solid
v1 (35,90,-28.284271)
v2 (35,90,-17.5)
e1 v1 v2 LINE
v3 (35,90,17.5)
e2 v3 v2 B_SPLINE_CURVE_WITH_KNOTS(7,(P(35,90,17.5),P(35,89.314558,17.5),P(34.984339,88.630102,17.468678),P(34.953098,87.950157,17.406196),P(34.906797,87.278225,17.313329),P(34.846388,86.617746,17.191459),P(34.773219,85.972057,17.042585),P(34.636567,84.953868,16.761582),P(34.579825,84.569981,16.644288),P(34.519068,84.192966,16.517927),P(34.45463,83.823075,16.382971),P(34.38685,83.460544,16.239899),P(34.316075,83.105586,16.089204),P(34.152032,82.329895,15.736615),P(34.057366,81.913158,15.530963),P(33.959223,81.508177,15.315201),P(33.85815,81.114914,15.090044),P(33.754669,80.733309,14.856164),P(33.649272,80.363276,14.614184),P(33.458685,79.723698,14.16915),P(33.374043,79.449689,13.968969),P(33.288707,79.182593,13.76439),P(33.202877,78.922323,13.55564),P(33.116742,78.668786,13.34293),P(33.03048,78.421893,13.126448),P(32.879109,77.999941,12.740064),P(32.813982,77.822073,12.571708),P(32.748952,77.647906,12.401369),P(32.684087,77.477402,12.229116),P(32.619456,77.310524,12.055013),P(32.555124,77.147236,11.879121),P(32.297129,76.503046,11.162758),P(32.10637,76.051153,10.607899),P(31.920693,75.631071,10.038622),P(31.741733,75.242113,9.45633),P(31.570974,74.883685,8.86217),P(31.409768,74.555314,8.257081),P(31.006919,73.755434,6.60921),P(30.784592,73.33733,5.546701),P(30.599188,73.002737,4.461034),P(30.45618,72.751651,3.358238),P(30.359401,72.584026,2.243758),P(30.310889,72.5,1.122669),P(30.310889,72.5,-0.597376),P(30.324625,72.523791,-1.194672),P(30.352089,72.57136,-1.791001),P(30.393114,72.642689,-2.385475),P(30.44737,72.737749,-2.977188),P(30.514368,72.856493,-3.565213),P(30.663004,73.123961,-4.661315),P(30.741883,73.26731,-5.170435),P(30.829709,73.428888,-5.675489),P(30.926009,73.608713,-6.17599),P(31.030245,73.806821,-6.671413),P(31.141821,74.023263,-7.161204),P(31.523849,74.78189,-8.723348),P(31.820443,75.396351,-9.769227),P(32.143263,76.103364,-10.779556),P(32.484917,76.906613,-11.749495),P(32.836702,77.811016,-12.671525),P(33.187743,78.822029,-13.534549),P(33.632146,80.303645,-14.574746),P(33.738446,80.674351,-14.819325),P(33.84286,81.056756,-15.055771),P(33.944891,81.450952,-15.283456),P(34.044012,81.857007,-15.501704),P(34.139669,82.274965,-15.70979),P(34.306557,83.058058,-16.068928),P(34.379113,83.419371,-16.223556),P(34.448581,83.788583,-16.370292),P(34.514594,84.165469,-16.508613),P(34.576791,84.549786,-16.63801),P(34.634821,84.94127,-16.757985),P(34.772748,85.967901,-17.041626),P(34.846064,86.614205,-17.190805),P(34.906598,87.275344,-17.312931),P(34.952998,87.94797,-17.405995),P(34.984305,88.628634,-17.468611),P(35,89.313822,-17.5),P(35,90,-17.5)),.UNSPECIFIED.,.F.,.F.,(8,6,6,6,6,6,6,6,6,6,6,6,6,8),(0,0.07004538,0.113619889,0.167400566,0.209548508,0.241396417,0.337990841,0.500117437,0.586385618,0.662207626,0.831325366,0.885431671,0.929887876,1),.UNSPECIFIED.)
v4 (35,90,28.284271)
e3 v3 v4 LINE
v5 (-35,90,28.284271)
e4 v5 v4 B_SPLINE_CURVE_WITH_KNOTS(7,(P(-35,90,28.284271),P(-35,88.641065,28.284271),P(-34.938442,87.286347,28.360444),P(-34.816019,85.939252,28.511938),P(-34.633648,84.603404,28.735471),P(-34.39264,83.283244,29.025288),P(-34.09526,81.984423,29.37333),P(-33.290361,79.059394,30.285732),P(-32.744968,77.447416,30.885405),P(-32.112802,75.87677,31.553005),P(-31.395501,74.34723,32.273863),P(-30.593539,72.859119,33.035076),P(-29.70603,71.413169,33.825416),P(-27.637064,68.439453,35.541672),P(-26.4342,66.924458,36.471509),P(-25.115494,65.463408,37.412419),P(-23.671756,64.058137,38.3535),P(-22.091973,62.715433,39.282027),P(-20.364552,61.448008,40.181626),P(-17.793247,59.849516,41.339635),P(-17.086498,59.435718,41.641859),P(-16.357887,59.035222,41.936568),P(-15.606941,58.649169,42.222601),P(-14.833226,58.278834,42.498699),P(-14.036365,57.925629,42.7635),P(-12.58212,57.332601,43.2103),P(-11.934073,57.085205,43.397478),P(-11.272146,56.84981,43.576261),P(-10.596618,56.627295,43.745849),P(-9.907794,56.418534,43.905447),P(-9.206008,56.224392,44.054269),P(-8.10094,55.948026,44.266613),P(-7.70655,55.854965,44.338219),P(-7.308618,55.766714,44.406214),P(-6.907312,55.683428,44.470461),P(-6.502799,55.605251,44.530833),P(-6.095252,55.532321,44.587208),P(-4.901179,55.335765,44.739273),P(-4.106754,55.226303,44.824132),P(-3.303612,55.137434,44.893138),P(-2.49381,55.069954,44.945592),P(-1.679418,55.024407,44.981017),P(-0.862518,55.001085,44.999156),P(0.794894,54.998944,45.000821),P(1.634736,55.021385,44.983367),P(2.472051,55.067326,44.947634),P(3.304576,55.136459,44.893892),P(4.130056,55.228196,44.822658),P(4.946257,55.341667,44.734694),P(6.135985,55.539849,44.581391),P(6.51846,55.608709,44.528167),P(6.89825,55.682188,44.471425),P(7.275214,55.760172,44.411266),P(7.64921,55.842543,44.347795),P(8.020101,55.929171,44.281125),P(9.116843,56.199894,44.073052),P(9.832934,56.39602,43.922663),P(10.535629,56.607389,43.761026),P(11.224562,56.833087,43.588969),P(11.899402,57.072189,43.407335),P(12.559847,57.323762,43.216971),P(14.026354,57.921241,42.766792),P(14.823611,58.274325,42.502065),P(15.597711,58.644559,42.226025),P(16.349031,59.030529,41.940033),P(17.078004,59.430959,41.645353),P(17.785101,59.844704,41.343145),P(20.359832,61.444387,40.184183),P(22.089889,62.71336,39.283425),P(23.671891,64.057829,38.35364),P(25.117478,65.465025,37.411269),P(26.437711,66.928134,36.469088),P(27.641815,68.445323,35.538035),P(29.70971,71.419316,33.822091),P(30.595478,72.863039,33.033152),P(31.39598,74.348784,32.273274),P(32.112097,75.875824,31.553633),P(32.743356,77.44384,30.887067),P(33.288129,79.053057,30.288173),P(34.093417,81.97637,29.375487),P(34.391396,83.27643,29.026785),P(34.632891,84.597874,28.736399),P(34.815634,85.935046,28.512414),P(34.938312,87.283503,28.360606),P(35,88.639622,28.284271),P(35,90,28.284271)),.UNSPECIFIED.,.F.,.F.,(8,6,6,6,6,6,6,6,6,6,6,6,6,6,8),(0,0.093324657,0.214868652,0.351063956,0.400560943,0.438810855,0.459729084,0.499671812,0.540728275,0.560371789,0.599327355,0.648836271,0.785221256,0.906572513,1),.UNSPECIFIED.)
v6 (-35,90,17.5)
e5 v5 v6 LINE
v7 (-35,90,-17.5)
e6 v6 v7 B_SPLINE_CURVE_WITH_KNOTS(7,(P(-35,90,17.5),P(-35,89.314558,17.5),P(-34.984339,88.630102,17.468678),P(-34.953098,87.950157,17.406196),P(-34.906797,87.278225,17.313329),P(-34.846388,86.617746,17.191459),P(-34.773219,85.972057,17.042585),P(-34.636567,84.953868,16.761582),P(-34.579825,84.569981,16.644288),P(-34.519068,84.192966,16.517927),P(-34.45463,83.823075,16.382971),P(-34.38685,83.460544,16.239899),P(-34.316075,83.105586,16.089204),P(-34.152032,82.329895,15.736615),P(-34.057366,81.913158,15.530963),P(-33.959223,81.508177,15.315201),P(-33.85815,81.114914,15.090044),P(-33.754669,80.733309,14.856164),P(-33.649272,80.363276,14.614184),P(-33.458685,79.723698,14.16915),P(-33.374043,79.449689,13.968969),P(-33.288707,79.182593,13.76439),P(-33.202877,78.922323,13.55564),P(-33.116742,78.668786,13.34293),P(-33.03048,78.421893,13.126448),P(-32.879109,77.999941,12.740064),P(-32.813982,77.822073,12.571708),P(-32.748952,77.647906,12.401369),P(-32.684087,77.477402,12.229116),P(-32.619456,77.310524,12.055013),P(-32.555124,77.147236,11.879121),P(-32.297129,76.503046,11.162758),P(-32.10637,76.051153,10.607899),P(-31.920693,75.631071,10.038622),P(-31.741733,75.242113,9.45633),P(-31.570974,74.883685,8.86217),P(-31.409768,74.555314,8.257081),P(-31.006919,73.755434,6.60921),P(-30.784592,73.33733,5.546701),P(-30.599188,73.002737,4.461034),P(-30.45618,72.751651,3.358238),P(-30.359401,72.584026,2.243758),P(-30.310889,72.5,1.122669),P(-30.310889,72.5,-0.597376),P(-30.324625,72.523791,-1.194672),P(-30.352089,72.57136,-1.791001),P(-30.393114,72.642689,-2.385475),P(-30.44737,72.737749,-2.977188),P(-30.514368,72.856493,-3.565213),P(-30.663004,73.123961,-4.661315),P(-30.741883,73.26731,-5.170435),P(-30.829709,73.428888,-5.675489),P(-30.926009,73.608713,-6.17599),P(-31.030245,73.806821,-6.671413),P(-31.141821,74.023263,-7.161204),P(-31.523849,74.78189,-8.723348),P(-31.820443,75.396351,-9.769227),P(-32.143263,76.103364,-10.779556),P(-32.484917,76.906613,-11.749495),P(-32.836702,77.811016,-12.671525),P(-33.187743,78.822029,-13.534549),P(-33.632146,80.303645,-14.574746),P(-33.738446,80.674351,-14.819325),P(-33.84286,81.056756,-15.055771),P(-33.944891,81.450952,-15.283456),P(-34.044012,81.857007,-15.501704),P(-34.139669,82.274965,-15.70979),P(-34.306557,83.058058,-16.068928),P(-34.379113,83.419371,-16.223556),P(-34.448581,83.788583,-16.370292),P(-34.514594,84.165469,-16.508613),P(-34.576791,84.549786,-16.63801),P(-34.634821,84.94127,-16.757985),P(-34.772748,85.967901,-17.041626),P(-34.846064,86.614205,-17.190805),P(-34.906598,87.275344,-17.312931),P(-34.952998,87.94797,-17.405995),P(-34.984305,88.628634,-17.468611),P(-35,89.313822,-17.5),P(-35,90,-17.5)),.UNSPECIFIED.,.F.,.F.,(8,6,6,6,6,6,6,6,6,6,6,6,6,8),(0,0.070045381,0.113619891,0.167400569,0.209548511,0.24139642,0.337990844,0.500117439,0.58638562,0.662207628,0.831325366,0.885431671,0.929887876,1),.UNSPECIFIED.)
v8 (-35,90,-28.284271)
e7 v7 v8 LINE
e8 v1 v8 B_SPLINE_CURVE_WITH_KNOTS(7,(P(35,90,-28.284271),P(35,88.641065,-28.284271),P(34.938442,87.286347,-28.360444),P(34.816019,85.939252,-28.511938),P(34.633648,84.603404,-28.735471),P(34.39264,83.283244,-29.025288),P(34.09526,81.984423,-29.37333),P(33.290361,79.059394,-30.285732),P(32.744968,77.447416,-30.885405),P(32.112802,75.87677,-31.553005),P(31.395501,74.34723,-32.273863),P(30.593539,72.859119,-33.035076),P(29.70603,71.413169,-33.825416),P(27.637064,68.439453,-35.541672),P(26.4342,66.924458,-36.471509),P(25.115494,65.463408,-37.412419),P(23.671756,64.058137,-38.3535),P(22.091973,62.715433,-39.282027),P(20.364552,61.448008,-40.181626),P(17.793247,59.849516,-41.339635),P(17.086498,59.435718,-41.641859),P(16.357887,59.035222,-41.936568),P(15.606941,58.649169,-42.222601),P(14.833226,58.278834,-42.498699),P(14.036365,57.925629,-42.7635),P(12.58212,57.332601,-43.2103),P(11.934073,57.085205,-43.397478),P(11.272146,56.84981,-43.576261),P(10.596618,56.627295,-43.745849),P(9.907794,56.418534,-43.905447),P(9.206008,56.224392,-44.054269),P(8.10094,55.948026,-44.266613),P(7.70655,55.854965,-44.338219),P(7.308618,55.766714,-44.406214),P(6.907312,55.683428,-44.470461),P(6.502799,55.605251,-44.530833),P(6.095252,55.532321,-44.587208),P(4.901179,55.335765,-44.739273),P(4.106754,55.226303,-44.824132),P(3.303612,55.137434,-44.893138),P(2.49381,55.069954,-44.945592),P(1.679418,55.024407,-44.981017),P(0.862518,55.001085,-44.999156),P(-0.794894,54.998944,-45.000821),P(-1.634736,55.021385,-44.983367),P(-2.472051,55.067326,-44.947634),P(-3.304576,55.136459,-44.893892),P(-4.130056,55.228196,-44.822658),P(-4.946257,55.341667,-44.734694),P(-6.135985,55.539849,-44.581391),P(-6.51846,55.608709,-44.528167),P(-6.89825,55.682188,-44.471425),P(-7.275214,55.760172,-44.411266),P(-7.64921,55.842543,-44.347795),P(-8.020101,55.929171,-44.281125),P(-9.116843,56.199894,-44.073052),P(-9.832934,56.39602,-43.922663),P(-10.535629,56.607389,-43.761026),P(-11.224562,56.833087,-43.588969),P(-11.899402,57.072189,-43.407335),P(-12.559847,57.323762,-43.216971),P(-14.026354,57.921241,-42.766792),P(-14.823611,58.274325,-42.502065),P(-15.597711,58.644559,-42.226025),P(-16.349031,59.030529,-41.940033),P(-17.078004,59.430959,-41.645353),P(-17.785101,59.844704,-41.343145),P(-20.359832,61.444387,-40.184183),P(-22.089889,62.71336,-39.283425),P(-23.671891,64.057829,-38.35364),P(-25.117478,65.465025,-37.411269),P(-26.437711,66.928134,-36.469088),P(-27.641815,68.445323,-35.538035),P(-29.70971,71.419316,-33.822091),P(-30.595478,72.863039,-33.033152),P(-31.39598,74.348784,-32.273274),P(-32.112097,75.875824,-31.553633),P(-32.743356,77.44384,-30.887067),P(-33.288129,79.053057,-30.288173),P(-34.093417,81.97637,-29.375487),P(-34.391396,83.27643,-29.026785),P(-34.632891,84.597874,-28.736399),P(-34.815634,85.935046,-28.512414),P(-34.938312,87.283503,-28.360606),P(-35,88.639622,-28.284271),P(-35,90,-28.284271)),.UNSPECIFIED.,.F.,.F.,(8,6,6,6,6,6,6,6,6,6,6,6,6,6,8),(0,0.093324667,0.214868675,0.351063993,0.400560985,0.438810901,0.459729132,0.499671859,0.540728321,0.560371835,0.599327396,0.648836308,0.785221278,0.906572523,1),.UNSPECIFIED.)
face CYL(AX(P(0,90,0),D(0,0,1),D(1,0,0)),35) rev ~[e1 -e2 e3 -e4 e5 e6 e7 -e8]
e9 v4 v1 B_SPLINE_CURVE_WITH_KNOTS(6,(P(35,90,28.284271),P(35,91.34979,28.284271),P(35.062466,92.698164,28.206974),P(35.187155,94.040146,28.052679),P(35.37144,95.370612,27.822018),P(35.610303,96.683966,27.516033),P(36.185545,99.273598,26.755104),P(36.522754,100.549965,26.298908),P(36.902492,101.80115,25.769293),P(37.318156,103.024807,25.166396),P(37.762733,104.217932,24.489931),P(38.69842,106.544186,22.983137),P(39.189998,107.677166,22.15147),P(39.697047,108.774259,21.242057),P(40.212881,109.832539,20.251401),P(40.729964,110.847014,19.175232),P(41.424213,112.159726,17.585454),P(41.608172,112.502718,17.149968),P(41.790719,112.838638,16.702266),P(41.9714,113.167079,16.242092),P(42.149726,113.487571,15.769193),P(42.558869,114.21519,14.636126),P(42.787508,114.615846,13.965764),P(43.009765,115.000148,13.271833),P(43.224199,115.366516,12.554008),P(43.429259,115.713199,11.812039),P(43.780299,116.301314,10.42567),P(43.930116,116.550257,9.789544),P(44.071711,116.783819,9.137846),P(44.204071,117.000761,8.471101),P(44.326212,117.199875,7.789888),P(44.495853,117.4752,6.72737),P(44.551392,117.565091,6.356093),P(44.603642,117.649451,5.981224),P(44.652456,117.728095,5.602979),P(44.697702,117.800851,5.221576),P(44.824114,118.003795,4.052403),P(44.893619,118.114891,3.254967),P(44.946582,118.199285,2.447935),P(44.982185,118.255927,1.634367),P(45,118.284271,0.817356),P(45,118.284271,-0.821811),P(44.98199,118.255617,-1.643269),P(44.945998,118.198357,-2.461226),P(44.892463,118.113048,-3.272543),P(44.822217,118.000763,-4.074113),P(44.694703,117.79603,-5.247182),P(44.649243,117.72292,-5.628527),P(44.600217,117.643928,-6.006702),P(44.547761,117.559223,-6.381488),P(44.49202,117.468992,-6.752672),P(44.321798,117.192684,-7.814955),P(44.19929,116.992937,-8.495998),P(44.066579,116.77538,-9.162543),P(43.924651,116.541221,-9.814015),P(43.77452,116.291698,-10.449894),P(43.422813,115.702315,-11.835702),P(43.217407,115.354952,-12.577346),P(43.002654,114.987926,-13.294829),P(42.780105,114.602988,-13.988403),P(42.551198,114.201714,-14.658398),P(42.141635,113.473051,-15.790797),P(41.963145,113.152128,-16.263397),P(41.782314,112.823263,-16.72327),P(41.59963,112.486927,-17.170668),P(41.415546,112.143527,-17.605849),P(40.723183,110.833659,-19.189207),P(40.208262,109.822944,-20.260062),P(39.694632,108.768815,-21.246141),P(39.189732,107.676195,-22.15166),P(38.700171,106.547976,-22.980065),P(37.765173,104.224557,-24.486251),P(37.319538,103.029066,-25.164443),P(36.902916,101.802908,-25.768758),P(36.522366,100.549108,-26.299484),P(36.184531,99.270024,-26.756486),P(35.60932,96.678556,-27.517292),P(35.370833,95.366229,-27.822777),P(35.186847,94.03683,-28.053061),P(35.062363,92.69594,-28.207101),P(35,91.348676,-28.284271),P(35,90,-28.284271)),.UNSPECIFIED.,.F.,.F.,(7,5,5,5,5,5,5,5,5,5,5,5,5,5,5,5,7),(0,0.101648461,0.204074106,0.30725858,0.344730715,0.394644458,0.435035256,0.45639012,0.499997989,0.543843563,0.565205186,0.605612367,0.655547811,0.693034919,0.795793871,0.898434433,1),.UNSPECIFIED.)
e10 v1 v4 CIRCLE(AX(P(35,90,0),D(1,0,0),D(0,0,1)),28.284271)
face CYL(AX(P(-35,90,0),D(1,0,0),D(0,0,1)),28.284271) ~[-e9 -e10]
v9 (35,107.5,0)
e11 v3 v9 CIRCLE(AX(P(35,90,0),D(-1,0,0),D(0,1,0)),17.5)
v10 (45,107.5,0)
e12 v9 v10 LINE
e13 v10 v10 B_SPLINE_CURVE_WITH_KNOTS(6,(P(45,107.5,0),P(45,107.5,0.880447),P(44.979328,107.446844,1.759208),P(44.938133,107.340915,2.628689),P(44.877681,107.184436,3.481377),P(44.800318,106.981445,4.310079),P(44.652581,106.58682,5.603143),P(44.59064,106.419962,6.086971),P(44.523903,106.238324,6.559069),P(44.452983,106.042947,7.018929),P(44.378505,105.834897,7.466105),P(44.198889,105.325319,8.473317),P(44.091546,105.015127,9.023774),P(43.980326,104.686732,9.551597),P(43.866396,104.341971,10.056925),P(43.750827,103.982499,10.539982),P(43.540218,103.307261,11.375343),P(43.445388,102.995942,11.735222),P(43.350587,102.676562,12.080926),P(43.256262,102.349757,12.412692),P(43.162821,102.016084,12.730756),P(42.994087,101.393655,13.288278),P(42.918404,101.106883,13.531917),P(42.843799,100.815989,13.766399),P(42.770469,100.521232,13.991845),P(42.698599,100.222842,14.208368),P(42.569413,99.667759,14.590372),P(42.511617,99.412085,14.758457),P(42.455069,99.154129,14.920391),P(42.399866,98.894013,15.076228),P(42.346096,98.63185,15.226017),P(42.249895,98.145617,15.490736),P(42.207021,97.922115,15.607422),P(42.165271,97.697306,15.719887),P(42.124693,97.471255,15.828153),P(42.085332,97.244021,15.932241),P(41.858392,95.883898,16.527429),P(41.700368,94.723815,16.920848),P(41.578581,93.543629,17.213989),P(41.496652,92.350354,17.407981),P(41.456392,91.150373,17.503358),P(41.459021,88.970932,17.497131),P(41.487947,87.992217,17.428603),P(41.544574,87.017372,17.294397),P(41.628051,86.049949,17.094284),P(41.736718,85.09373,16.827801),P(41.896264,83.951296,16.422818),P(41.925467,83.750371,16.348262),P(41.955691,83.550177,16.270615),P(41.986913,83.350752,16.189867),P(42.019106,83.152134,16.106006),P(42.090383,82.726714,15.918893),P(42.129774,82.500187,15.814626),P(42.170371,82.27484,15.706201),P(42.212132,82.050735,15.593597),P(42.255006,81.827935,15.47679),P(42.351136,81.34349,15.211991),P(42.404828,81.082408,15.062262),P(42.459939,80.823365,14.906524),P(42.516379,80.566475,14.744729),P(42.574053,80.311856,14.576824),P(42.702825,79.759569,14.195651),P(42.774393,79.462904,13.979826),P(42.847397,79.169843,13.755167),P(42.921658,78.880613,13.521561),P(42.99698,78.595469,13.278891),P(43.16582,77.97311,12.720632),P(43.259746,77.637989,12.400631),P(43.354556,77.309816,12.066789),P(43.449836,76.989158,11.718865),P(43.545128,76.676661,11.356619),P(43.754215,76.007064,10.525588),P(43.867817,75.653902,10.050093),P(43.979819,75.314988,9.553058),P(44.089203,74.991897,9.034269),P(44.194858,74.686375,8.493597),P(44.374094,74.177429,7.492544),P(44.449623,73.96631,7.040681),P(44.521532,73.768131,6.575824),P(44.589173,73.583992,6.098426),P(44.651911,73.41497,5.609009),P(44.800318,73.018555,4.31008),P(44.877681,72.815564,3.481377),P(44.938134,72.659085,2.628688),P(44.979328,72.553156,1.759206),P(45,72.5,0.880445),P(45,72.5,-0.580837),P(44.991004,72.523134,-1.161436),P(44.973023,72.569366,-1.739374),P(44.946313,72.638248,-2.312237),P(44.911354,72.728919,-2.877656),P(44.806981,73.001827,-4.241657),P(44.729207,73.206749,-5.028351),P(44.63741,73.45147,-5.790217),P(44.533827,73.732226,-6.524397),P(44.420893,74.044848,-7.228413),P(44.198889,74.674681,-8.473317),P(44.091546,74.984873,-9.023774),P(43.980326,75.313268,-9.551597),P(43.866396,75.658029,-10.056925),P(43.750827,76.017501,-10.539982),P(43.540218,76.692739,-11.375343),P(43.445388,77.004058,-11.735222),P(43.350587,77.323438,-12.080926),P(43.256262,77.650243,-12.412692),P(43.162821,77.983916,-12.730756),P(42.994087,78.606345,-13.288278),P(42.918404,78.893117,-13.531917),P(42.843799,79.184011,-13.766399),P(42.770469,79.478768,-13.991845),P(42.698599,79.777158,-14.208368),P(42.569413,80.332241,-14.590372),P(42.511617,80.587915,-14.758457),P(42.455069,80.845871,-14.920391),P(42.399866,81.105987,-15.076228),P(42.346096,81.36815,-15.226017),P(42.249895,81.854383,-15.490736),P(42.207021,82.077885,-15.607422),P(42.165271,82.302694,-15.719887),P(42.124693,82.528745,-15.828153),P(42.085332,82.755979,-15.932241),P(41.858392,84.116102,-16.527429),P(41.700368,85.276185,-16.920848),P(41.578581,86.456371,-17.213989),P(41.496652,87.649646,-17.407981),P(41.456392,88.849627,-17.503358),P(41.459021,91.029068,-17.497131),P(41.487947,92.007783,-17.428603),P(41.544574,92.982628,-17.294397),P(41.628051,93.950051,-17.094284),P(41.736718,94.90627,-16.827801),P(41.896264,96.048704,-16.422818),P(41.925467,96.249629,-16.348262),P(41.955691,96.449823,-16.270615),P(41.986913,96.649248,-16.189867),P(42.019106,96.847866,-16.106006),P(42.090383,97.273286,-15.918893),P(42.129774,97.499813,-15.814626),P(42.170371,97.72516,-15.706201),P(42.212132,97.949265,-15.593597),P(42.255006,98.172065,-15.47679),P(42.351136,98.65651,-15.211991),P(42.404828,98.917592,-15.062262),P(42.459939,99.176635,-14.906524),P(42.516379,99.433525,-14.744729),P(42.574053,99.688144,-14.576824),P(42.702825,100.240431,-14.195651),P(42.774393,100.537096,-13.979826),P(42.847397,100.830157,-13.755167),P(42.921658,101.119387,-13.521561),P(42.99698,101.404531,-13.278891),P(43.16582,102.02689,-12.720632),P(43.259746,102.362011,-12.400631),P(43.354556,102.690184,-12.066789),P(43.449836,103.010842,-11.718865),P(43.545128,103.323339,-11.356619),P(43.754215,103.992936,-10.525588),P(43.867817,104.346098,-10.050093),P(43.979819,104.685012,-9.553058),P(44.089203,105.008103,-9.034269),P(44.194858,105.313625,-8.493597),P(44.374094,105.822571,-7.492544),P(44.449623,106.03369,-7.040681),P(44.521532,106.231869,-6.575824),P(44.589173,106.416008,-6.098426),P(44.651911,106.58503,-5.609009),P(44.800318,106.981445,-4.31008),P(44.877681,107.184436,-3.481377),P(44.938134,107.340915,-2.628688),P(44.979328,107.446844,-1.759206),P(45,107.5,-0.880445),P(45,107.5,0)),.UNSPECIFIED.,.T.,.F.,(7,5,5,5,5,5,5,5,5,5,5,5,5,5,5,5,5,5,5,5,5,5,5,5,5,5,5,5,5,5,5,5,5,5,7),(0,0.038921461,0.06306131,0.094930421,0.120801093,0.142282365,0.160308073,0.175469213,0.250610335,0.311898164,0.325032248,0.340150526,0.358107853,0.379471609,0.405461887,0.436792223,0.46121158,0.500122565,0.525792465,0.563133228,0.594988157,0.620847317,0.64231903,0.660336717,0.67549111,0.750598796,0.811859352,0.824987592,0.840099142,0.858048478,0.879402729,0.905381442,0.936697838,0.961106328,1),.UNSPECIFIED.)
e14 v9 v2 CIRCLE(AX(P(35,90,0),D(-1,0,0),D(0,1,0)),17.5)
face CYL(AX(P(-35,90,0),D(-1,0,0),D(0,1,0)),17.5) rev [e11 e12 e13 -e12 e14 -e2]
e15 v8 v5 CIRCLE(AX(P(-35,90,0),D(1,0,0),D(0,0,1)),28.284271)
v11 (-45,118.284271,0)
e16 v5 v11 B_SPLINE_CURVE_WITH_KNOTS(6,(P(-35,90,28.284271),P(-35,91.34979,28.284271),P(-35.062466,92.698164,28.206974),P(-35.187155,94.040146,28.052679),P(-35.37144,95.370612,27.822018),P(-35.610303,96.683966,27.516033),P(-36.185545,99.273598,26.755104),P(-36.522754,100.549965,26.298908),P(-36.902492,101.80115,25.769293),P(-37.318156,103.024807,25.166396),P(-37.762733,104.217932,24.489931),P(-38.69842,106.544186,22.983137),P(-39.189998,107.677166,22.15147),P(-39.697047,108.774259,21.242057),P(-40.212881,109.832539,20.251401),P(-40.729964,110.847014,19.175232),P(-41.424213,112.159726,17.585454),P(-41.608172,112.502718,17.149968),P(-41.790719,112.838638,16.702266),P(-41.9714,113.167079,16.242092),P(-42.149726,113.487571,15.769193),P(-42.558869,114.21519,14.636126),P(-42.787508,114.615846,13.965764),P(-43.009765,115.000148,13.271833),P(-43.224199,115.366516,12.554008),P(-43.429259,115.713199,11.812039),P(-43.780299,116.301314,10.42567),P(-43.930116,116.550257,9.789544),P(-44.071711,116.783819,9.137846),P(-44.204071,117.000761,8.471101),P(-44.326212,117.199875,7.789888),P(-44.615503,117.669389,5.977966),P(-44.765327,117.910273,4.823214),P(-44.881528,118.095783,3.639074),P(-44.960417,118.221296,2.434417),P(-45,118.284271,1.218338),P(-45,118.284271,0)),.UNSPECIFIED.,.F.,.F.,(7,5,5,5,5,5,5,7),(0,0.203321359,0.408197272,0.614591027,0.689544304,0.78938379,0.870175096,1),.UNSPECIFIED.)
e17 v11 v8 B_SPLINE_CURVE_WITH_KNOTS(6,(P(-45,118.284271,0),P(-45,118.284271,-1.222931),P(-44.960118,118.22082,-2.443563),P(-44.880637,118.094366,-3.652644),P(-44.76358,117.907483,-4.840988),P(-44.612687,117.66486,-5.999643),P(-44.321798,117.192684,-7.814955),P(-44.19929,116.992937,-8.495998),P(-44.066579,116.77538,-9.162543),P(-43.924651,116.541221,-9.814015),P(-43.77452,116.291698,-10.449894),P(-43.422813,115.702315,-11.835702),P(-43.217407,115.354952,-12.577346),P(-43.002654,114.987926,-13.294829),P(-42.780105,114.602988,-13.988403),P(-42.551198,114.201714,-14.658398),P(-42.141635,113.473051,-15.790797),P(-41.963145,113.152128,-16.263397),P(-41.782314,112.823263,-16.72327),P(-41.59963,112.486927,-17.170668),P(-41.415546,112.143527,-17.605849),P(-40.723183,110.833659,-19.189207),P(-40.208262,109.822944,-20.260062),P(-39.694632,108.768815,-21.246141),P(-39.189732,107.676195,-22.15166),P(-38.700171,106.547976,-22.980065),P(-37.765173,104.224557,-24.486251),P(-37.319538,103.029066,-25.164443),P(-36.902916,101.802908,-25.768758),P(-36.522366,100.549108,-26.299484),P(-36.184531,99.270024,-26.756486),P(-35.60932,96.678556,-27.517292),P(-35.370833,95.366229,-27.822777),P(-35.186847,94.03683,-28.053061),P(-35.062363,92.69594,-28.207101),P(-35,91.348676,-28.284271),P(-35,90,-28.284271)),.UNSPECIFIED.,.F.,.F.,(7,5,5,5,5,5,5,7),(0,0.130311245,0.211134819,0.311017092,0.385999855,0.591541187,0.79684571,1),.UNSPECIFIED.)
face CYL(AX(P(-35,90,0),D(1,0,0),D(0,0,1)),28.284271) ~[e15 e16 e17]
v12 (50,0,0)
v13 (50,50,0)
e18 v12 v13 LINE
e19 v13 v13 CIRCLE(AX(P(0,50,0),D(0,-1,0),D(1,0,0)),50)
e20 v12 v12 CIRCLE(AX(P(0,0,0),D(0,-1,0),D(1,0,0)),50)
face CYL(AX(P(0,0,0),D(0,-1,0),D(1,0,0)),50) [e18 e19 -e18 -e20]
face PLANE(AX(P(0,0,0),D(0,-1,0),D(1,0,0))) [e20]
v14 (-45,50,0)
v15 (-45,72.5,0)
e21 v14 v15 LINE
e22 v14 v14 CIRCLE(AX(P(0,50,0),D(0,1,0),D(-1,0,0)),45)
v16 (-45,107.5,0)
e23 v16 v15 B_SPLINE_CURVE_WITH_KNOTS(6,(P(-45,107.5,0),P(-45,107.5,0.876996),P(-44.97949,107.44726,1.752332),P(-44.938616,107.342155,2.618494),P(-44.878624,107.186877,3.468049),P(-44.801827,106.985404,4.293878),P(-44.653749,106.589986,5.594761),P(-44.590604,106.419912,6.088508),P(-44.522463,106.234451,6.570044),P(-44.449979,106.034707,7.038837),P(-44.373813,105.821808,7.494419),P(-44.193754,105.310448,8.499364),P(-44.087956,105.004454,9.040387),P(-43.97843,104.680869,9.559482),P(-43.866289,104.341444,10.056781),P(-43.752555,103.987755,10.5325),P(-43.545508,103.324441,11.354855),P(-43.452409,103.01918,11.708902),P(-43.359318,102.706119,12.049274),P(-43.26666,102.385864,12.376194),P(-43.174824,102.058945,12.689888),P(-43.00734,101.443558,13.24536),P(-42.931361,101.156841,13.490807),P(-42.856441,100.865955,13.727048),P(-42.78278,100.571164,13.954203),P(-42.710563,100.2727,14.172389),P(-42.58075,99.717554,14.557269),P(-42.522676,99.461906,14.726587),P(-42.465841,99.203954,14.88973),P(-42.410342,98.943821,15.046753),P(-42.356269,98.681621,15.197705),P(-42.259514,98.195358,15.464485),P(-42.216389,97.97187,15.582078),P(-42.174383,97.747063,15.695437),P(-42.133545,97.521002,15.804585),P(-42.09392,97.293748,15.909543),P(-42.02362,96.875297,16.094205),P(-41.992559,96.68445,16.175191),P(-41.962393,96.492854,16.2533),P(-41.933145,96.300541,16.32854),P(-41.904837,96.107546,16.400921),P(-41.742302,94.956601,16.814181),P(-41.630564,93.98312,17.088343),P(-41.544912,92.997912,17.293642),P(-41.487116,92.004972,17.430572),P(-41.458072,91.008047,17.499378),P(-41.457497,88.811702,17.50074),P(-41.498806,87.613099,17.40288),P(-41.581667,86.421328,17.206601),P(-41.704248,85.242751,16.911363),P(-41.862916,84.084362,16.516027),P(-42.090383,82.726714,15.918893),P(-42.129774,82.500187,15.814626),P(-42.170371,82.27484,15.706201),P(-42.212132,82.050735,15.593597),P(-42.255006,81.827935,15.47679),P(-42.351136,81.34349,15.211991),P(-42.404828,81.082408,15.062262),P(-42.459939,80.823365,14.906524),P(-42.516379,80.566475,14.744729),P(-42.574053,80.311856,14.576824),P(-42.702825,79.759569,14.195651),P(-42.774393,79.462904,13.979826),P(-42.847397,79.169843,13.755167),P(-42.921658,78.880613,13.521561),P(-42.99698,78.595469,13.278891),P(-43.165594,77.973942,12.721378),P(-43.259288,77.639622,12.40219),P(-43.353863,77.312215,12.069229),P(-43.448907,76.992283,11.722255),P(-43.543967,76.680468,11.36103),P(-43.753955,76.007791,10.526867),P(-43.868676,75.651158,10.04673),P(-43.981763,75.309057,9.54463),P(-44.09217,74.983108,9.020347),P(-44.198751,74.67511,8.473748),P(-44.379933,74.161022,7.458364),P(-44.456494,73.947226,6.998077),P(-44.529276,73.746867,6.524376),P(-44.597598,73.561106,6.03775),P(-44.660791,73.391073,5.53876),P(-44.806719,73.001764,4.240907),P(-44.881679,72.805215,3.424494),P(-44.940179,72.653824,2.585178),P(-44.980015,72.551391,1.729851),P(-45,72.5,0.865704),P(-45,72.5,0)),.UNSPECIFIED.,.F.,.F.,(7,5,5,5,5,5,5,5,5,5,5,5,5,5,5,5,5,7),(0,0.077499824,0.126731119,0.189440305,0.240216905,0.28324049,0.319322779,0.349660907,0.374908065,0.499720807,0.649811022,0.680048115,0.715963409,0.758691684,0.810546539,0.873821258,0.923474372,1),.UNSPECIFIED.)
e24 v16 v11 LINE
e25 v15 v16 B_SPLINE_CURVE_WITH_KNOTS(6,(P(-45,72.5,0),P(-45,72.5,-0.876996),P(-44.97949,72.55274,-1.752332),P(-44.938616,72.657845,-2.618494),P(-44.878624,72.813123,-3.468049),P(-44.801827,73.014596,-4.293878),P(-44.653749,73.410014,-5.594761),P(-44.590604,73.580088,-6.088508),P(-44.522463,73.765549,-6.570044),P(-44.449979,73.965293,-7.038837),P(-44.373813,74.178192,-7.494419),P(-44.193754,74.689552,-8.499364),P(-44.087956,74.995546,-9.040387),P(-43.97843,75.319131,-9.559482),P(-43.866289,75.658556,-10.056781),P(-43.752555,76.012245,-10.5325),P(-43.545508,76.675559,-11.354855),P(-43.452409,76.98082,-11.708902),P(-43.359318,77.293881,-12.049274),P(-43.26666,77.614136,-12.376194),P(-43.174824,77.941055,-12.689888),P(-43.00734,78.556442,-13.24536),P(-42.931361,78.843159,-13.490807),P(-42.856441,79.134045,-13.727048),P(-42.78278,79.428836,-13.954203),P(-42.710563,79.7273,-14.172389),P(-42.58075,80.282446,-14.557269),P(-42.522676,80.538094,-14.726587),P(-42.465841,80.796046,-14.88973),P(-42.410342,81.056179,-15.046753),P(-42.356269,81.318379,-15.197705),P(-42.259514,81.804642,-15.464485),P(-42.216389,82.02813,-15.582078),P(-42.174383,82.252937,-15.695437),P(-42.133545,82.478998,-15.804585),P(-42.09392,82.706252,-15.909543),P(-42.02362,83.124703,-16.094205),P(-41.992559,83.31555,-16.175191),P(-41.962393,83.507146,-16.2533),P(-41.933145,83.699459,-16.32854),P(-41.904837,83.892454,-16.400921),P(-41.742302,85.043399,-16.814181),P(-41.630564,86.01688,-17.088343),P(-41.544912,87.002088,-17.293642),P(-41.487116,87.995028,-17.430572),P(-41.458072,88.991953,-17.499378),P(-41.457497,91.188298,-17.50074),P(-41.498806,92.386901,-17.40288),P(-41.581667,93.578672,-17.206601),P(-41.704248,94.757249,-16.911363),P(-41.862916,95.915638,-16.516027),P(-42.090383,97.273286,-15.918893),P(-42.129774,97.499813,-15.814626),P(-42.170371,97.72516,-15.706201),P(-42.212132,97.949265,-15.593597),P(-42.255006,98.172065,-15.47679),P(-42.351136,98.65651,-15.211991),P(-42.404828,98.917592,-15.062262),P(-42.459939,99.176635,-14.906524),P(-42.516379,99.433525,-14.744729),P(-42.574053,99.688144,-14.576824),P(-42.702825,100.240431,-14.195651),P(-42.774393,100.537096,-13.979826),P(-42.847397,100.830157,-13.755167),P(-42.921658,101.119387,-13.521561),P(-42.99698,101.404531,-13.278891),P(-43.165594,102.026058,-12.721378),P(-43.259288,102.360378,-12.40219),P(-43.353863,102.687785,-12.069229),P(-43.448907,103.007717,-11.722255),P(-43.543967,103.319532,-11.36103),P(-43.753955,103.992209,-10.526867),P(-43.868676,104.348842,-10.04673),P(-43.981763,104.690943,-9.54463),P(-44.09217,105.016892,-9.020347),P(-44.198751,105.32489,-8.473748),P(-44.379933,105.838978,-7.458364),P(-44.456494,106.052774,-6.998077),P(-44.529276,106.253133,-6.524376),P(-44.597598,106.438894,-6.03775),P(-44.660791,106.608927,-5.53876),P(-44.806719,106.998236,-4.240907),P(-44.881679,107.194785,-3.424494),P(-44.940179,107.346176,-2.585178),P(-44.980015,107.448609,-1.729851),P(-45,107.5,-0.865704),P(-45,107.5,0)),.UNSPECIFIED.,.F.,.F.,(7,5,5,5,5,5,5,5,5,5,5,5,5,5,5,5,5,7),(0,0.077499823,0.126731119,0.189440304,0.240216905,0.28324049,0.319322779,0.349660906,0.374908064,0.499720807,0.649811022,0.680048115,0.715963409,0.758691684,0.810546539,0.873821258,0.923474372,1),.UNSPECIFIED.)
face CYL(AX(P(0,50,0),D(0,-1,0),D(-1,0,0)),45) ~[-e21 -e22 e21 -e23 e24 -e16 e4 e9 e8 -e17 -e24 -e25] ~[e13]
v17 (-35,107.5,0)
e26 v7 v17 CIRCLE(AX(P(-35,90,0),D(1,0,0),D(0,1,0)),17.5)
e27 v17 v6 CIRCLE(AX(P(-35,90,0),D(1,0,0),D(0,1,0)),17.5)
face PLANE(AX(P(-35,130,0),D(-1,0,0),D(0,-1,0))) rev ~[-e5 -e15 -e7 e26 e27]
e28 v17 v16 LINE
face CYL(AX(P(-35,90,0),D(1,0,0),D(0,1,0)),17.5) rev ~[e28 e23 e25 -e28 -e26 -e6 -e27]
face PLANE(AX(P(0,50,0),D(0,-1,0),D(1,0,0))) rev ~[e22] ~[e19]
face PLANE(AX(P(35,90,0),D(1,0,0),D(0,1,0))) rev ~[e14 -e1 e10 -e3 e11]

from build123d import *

# Parameters (mm, degrees)
F0_R     = 50
F1_DEPTH = 50
F2_R     = 45
F3_DEPTH = 80
F5_DEPTH = 100
F6_R     = 17.5
F7_DEPTH = 100


with BuildPart() as f1:
    # F0 (on Front) → F1 (new body)
    with BuildSketch(Plane.XZ):
        Circle(F0_R)
    extrude(amount=-F1_DEPTH)

    # F2 (on face) → F3 (join)
    with BuildSketch(Plane(origin=(0, 50, 0), x_dir=(-1, 0, 0), z_dir=(0, 1, 0))):
        Circle(F2_R)
    extrude(amount=F3_DEPTH)

    # F4 (on Top) → F5 (cut, symmetric)
    with BuildSketch(Plane.XY):
        with BuildLine():
            ThreePointArc((-35, 90), (0, 55), (35, 90))
            ThreePointArc((35, 90), (0, 125), (-35, 90))
        make_face()
        with BuildLine():
            ThreePointArc((-35, 90), (0, 125), (35, 90))
            Line((35, 90), (35, 130))
            Line((35, 130), (-35, 130))
            Line((-35, 130), (-35, 90))
        make_face()
    extrude(amount=F5_DEPTH, both=True, mode=Mode.SUBTRACT)

    # F6 (on face) → F7 (cut, symmetric)
    with BuildSketch(Plane.YZ.offset(-35)):
        with Locations((90, 0)):
            Circle(F6_R)
        with BuildLine():
            ThreePointArc((90, 28.2842712475), (118.2842712475, 0), (90, -28.2842712475))
            Line((90, -28.2842712475), (130, -28.2842712475))
            Line((130, -28.2842712475), (130, 28.2842712475))
            Line((130, 28.2842712475), (90, 28.2842712475))
        make_face()
    extrude(amount=F7_DEPTH, both=True, mode=Mode.SUBTRACT)


solid = f1.part
